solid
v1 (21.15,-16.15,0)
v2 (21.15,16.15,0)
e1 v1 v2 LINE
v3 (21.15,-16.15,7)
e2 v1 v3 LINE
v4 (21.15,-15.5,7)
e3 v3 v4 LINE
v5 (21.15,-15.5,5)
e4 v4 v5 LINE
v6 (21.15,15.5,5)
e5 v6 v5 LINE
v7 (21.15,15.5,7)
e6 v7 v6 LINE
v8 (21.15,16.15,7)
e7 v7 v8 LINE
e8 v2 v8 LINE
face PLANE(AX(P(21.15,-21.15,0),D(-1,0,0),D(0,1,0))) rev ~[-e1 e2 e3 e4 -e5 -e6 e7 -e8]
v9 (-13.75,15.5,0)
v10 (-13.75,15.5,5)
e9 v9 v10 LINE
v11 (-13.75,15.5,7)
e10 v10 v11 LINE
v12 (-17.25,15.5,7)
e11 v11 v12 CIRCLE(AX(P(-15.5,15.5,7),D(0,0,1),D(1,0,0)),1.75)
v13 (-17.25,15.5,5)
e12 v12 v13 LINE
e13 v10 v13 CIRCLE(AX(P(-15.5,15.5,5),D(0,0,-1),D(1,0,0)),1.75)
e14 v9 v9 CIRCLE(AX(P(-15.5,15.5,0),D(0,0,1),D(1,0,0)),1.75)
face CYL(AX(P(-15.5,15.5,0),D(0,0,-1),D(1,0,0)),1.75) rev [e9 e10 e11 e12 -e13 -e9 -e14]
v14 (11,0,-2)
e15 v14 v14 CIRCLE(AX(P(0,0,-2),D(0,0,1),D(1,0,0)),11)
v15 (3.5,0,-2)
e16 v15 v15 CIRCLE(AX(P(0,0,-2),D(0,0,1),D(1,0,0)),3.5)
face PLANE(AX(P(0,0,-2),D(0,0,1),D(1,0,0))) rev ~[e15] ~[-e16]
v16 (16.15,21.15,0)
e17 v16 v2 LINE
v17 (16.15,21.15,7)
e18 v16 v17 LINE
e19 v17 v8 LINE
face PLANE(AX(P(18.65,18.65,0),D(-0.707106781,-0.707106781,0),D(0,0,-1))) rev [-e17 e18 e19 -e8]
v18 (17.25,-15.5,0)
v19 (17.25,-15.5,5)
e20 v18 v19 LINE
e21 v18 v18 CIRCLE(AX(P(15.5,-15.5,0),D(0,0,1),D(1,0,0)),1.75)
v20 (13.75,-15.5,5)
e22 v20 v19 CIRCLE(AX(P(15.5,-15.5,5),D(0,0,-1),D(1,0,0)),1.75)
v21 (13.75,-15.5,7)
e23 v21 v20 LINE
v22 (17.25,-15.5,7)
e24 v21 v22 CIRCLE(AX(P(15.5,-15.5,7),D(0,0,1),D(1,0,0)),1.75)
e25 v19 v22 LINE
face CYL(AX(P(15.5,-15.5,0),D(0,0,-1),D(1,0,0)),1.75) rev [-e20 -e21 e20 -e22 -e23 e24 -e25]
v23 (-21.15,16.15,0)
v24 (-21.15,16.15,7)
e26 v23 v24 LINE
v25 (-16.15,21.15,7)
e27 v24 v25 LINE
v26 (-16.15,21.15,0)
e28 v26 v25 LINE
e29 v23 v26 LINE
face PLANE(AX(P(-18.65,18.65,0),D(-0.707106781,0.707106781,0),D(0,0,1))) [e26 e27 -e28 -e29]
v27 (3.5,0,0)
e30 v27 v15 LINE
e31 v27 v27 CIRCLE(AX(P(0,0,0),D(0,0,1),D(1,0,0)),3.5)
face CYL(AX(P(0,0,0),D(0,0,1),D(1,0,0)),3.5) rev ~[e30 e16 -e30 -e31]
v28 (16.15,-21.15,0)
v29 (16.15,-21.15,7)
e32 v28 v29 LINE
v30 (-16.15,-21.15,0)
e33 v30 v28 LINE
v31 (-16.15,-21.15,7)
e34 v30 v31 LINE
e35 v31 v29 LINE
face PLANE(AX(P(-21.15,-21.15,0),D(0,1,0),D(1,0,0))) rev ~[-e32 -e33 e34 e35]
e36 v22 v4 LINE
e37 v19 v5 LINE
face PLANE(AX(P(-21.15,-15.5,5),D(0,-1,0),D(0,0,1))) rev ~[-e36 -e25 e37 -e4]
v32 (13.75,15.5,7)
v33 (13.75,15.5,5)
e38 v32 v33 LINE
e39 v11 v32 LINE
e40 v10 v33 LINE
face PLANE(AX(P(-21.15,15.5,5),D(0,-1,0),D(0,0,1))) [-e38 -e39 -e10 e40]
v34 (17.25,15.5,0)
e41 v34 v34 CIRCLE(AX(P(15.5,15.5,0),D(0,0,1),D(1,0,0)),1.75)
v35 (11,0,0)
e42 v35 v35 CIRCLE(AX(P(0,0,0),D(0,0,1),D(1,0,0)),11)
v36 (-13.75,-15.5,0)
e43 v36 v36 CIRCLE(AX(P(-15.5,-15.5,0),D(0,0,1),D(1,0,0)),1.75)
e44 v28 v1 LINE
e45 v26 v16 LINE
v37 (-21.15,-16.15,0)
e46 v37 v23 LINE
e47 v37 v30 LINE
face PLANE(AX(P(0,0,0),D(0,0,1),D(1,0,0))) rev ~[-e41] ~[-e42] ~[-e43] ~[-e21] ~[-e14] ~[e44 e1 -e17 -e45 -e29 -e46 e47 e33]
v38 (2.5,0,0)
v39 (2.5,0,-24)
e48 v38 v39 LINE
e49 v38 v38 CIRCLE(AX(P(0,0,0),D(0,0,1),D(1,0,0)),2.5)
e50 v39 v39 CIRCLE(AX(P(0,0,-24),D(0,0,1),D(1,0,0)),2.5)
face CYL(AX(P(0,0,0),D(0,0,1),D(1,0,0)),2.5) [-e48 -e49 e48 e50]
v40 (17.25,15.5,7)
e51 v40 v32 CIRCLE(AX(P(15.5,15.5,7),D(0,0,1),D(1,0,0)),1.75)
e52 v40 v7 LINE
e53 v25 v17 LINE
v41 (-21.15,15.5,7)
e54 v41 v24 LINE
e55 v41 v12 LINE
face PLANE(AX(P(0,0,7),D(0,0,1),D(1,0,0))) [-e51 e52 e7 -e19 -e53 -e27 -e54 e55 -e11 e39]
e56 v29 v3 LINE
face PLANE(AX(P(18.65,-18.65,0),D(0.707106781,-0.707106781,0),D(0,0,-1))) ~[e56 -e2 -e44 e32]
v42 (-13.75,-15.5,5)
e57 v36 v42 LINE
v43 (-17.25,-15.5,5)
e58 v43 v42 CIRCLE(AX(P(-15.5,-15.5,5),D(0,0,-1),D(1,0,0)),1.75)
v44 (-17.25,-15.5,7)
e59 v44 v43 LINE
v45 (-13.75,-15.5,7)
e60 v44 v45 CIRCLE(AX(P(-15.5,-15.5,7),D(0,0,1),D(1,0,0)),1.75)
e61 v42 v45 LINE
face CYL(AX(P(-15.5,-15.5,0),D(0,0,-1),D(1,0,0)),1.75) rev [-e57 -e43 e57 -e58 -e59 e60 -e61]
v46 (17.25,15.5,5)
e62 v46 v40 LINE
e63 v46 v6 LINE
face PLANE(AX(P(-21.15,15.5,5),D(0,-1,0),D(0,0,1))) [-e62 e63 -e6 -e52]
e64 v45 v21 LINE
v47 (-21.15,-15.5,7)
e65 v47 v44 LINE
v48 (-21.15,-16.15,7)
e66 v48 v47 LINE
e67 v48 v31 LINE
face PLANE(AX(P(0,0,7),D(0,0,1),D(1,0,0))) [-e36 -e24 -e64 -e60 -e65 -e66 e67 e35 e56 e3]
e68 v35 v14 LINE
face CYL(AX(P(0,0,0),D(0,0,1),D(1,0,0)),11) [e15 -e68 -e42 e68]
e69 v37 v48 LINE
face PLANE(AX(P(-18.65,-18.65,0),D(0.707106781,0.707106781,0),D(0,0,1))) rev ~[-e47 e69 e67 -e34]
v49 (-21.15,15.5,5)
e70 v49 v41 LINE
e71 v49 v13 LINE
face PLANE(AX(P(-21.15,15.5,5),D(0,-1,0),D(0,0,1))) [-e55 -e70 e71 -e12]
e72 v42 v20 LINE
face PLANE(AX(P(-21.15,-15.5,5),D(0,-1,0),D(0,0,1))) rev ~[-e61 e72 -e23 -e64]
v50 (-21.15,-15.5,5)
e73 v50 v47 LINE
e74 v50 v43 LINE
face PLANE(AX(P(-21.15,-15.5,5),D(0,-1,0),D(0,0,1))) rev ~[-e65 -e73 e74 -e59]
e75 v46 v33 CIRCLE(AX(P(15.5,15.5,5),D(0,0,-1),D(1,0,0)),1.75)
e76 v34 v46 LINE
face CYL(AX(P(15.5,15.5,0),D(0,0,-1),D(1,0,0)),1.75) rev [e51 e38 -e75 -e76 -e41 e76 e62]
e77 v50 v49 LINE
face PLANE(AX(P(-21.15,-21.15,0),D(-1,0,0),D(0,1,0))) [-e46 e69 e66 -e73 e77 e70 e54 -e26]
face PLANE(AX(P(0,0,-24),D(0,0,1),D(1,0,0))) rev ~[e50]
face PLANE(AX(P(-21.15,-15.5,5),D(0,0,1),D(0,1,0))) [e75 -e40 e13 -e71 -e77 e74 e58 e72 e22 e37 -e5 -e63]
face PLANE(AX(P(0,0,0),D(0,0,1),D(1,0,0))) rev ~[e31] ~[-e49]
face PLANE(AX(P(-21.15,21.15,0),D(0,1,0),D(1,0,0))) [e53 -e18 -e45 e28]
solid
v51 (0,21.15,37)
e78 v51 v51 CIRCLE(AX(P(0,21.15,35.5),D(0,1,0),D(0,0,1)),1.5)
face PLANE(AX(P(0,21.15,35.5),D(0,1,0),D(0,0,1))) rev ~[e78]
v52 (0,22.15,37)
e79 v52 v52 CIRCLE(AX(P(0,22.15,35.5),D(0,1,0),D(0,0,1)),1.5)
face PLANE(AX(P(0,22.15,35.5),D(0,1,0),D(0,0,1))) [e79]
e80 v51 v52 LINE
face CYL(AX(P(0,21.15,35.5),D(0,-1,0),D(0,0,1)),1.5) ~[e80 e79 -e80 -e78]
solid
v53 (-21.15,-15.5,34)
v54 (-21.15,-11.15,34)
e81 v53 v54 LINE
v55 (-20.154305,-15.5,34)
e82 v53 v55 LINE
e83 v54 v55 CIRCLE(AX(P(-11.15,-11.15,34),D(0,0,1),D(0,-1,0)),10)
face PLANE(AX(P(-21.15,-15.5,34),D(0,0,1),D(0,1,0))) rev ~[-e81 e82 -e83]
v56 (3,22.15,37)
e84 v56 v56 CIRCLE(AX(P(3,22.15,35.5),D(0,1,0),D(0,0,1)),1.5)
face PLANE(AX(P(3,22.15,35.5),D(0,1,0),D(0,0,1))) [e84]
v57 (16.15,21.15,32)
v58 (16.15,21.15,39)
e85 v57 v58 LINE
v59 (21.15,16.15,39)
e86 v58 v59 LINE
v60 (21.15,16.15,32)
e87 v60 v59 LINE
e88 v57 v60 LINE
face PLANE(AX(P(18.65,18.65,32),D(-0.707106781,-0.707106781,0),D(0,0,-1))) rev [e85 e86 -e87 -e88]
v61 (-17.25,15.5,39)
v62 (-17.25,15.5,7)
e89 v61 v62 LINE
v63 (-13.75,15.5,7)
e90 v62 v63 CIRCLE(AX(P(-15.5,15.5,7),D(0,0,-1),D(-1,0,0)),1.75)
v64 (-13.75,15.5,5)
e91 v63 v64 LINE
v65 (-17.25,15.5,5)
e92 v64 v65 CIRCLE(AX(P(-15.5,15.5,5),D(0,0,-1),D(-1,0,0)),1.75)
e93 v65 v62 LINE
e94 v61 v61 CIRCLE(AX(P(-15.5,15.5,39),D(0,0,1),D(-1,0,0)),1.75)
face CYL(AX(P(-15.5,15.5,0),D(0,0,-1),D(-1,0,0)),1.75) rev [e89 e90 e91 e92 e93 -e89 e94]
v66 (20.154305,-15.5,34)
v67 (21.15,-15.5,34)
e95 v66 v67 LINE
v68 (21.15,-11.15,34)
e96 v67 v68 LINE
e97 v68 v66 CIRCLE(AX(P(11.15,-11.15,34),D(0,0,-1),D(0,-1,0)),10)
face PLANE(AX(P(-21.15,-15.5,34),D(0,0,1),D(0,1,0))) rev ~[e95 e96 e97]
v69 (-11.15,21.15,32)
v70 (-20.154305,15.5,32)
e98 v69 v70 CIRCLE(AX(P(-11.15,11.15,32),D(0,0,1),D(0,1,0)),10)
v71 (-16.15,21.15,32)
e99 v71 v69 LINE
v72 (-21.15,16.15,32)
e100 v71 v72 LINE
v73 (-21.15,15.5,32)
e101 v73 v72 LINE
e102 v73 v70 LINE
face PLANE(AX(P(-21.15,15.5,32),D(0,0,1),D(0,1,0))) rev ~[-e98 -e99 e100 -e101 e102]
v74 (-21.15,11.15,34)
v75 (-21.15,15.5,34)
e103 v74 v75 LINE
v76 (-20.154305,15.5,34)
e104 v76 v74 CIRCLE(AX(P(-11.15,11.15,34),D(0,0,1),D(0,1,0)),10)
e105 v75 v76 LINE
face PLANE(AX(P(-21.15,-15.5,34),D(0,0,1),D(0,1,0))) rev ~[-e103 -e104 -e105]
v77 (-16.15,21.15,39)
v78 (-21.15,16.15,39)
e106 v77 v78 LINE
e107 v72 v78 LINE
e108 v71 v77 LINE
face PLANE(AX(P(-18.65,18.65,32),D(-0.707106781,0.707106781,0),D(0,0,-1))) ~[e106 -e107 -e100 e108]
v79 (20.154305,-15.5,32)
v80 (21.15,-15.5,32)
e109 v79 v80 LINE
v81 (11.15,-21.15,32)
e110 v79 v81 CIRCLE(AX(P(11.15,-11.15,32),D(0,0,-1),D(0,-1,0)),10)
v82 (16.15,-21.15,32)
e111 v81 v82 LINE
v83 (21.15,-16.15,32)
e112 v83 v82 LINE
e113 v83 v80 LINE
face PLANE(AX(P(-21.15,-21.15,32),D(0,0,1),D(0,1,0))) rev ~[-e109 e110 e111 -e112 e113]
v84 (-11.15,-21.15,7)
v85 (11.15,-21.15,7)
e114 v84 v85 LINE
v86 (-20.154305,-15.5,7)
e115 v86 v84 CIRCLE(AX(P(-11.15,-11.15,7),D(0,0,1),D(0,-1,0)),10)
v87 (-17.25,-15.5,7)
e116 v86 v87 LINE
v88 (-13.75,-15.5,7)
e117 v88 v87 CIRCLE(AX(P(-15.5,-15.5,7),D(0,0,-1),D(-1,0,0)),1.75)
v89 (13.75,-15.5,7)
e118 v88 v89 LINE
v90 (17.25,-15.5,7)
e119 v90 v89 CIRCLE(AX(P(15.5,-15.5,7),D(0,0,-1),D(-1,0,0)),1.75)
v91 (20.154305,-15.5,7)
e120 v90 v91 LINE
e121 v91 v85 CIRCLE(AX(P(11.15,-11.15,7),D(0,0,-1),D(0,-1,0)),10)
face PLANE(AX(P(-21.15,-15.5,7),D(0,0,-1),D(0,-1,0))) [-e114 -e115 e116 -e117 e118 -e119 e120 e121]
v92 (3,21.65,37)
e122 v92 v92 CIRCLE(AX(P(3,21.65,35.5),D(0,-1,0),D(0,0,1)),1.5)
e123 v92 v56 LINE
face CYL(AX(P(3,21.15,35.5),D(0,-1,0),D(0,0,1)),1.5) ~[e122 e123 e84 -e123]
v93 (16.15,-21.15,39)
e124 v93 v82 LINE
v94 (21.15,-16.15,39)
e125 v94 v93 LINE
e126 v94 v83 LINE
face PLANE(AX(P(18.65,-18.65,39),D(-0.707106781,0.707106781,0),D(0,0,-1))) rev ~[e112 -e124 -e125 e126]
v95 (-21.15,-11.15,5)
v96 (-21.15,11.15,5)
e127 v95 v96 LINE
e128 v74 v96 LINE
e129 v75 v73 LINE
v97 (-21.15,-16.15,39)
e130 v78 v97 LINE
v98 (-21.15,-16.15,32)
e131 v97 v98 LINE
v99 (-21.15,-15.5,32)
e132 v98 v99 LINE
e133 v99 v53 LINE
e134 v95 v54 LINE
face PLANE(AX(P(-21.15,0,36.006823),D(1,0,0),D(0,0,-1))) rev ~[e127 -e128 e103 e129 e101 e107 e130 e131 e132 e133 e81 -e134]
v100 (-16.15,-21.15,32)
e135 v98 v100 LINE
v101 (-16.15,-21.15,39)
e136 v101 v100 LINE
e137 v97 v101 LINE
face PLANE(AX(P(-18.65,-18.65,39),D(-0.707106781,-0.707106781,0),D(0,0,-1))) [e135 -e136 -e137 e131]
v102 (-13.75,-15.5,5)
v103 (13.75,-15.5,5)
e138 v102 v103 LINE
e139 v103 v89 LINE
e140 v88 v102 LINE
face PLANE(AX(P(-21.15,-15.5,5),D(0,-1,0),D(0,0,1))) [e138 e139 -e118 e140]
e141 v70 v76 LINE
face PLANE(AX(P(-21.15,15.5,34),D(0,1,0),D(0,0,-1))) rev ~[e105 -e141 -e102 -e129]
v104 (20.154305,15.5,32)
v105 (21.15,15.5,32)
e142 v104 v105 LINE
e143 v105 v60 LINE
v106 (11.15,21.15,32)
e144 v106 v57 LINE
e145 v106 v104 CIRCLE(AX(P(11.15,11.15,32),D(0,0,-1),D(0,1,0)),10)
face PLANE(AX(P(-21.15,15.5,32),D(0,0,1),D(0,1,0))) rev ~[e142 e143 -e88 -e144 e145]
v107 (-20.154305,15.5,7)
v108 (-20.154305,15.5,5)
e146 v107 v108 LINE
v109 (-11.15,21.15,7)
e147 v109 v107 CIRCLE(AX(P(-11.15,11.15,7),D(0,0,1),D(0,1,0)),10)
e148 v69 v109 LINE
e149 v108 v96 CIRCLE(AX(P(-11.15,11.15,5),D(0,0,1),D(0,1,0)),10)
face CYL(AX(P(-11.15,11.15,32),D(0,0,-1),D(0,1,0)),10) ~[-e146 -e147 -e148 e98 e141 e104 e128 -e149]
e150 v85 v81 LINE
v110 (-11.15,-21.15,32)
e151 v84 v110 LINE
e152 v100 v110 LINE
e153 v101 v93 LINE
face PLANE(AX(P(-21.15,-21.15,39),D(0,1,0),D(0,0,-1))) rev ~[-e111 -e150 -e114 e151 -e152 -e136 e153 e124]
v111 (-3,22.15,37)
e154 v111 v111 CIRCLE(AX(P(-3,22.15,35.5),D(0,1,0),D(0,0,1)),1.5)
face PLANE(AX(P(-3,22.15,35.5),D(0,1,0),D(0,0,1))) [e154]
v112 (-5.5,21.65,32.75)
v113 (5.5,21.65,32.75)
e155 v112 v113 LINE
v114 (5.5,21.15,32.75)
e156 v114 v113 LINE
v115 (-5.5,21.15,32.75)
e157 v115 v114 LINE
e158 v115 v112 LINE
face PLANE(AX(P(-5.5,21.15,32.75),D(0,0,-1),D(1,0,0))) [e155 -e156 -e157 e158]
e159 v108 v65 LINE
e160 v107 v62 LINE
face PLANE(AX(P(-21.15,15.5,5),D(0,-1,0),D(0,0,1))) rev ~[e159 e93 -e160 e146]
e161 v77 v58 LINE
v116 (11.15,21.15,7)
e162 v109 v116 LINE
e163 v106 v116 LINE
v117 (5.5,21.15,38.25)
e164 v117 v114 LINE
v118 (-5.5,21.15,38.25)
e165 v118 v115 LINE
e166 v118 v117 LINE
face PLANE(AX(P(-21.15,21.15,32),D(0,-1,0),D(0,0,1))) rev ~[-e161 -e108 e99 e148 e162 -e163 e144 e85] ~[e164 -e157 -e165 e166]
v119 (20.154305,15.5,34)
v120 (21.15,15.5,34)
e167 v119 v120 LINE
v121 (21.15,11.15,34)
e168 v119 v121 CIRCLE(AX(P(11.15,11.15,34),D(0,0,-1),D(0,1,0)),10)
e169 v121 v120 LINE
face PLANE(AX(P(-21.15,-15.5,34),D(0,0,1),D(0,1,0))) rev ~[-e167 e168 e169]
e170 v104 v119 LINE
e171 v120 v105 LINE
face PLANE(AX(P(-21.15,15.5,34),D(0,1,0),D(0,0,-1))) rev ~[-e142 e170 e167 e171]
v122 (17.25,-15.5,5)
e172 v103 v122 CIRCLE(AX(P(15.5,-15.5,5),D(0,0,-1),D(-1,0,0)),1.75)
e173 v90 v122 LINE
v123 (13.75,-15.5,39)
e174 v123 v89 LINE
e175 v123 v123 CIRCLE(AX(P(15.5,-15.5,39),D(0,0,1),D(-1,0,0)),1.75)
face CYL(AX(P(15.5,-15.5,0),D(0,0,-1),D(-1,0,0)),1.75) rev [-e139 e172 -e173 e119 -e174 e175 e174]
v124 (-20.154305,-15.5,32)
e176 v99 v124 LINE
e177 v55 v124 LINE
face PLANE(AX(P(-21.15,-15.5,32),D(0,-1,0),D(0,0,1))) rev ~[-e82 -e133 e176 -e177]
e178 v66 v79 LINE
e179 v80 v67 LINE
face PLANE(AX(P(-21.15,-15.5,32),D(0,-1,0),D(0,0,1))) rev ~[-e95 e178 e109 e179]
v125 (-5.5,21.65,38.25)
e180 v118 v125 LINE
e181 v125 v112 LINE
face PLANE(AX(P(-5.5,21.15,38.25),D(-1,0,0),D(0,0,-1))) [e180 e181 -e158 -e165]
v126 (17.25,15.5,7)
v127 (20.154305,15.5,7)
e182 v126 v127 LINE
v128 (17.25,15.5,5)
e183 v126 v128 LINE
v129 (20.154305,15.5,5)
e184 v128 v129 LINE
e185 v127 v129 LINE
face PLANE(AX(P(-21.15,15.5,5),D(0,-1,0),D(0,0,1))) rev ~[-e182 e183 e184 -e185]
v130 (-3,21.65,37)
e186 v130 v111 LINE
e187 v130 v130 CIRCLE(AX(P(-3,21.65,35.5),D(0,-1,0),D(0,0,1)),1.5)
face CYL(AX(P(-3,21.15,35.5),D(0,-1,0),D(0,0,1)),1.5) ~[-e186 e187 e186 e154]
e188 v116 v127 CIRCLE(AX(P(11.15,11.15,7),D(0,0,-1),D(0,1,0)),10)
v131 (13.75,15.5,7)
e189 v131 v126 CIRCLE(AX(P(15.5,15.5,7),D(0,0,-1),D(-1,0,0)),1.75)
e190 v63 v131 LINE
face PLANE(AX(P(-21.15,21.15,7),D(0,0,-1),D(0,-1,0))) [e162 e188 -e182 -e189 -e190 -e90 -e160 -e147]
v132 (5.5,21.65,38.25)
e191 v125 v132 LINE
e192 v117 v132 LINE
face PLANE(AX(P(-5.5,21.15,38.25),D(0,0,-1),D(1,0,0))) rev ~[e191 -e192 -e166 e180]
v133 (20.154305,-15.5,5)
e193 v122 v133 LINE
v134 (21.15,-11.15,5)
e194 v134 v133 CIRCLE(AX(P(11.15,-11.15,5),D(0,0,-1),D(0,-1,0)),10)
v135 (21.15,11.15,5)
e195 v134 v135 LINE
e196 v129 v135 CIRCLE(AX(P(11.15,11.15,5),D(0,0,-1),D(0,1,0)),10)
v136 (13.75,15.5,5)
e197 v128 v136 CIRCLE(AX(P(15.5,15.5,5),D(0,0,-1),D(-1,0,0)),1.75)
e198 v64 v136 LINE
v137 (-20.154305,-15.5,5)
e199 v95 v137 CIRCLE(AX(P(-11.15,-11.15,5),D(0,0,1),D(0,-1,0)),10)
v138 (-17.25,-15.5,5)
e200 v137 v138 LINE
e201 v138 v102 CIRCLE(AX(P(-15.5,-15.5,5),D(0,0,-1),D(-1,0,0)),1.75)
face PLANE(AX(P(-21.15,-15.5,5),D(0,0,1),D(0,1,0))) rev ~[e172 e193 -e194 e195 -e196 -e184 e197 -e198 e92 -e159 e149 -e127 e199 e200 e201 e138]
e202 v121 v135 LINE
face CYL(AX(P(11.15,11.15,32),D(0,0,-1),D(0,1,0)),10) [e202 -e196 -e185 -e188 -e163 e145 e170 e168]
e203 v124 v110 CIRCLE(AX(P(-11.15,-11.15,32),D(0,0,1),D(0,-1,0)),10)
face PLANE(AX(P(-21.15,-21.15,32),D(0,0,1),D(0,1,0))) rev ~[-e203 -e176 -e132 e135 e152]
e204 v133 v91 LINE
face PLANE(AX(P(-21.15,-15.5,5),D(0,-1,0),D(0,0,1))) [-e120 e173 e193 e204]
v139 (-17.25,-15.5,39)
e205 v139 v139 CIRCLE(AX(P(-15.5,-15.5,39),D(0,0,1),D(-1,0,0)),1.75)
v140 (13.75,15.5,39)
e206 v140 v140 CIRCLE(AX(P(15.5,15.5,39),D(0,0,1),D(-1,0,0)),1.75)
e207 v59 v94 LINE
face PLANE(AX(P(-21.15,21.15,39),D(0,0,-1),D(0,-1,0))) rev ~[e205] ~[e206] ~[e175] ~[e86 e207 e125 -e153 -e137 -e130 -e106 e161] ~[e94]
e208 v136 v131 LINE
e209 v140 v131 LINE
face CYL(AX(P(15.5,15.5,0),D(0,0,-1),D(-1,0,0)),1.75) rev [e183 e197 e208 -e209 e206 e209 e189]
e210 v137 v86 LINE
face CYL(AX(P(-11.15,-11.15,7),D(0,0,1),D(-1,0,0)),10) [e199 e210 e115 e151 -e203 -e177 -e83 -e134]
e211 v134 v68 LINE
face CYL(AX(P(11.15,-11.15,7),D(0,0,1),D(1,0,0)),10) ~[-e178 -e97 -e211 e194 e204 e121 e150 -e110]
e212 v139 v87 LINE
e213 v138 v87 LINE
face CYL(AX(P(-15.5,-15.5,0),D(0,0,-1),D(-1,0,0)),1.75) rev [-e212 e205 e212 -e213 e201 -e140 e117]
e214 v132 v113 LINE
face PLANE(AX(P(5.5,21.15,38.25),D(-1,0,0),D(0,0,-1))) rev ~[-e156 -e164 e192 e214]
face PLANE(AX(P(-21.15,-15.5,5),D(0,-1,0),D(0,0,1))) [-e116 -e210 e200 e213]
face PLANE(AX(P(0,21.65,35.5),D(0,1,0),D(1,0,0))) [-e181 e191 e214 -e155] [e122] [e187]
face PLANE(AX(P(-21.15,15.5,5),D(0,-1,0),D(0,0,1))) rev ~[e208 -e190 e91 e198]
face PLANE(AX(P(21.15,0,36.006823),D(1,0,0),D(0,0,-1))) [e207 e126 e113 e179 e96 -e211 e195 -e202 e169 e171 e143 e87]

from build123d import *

# Parameters (mm, degrees)
ESQUISSE1_W             = 42.3
ESQUISSE1_H             = 42.3
ESQUISSE1_R             = 11
ESQUISSE1_R_2           = 1.75
ESQUISSE1_R_3           = 3.5
ESQUISSE1_R_4           = 2.5
BOSS_EXTRU_1_DEPTH      = 7
ESQUISSE1_3_R           = 11
ESQUISSE1_3_R_2         = 3.5
ESQUISSE1_3_R_3         = 2.5
BOSS_EXTRU_2_DEPTH      = 2
ESQUISSE1_5_R           = 2.5
BOSS_EXTRU_3_DEPTH      = 24
ENL_V_MAT_EXTRU_1_REACH = 55.034
ESQUISSE2_W             = 2
ESQUISSE2_H             = 31
ESQUISSE3_W             = 2
ESQUISSE3_H             = 31
BOSS_EXTRU_4_DEPTH      = 42.3
BOSS_EXTRU_5_DEPTH      = 42.3
ESQUISSE1_6_R           = 1.75
ENL_V_MAT_EXTRU_2_DEPTH = 39
CHANFREIN1_SIZE         = 5
CHANFREIN2_SIZE         = 5
CONG_1_R                = 10
ESQUISSE5_W             = 11
ESQUISSE5_H             = 5.5
BOSS_EXTRU_6_DEPTH      = 0.5
ESQUISSE5_3_R           = 1.5
BOSS_EXTRU_7_DEPTH      = 1
ESQUISSE5_5_R           = 1.5
BOSS_EXTRU_8_DEPTH      = 1
ESQUISSE5_6_R           = 1.5
BOSS_EXTRU_9_DEPTH      = 1


with BuildPart() as part:
    # Esquisse1 → Boss.-Extru.1 (new body)
    with BuildSketch(Plane.XY):
        Rectangle(ESQUISSE1_W, ESQUISSE1_H)
        Circle(ESQUISSE1_R, mode=Mode.SUBTRACT)
        with Locations((-15.5, -15.5)):
            Circle(ESQUISSE1_R_2, mode=Mode.SUBTRACT)
        with Locations((15.5, -15.5)):
            Circle(ESQUISSE1_R_2, mode=Mode.SUBTRACT)
        with Locations((15.5, 15.5)):
            Circle(ESQUISSE1_R_2, mode=Mode.SUBTRACT)
        with Locations((-15.5, 15.5)):
            Circle(ESQUISSE1_R_2, mode=Mode.SUBTRACT)
        Circle(ESQUISSE1_R)
        Circle(ESQUISSE1_R_3, mode=Mode.SUBTRACT)
        Circle(ESQUISSE1_R_3)
        Circle(ESQUISSE1_R_4, mode=Mode.SUBTRACT)
        Circle(ESQUISSE1_R_4)
    extrude(amount=BOSS_EXTRU_1_DEPTH)

    # Esquisse1_3 → Boss.-Extru.2 (add)
    with BuildSketch(Plane.XY):
        Circle(ESQUISSE1_3_R)
        Circle(ESQUISSE1_3_R_2, mode=Mode.SUBTRACT)
        Circle(ESQUISSE1_3_R_3)
    extrude(amount=-BOSS_EXTRU_2_DEPTH)

    # Esquisse1_5 → Boss.-Extru.3 (add)
    with BuildSketch(Plane.XY):
        Circle(ESQUISSE1_5_R)
    extrude(amount=-BOSS_EXTRU_3_DEPTH)

    # Esquisse2 → Enl_v. mat.-Extru.1 (cut, up to next)
    with BuildSketch(Plane.ZY.offset(21.15), mode=Mode.PRIVATE) as enl_v_mat_extru_1_sk1:
        with Locations((6, 0)):
            Rectangle(ESQUISSE2_W, ESQUISSE2_H)
    enl_v_mat_extru_1_tool1 = extrude(enl_v_mat_extru_1_sk1.sketch, amount=-ENL_V_MAT_EXTRU_1_REACH, mode=Mode.PRIVATE) & part.part
    add(enl_v_mat_extru_1_tool1.solids().sort_by_distance((-21.15, 0, 6))[0], mode=Mode.SUBTRACT)

    # Chanfrein1
    chanfrein1_edges = [part.edges().sort_by_distance(p)[0] for p in [
        (-21.15, 21.15, 3.5),
        (21.15, 21.15, 3.5),
        (21.15, -21.15, 3.5),
        (-21.15, -21.15, 3.5),
    ]]
    chamfer(chanfrein1_edges, length=CHANFREIN1_SIZE)


with BuildPart() as body_2:
    # Esquisse3 → Boss.-Extru.4 (new body)
    with BuildSketch(Plane.ZY.offset(21.15)):
        Polygon((32, 15.5), (32, 21.15), (7, 21.15), (7, 15.5), (7, -15.5), (7, -21.15), (32, -21.15), (32, -15.5), align=None)
        with Locations((33, 0)):
            Rectangle(ESQUISSE3_W, ESQUISSE3_H)
        with Locations((6, 0)):
            Rectangle(ESQUISSE3_W, ESQUISSE3_H)
    extrude(amount=-BOSS_EXTRU_4_DEPTH)


with BuildPart() as body_3:
    # Esquisse4 → Boss.-Extru.5 (new body)
    with BuildSketch(Plane.ZY.offset(21.15)):
        Polygon((32, 21.15), (39, 21.15), (39, -21.15), (32, -21.15), (32, -15.5), (34, -15.5), (34, 15.5), (32, 15.5), align=None)
    extrude(amount=-BOSS_EXTRU_5_DEPTH)


with BuildPart() as enl_v_mat_extru_2_tool:
    # Esquisse1_6 → Enl_v. mat.-Extru.2 (new body)
    with BuildSketch(Plane.XY):
        with Locations(Location((15.5, 15.5, 0), (0, 0, 180))):
            Circle(ESQUISSE1_6_R)
        with Locations(Location((-15.5, -15.5, 0), (0, 0, 180))):
            Circle(ESQUISSE1_6_R)
        with Locations(Location((15.5, -15.5, 0), (0, 0, 180))):
            Circle(ESQUISSE1_6_R)
        with Locations(Location((-15.5, 15.5, 0), (0, 0, 180))):
            Circle(ESQUISSE1_6_R)
    extrude(amount=ENL_V_MAT_EXTRU_2_DEPTH)


with BuildPart() as body_2_1:
    add(body_2.part)

    # Enl_v. mat.-Extru.2: cut by enl_v_mat_extru_2_tool
    add(enl_v_mat_extru_2_tool.part, mode=Mode.SUBTRACT)

    # Cong_1
    cong_1_edges = [body_2_1.edges().sort_by_distance(p)[0] for p in [
        (21.15, 21.15, 19.5),
        (-21.15, 21.15, 19.5),
        (21.15, -21.15, 19.5),
        (-21.15, -21.15, 19.5),
    ]]
    fillet(cong_1_edges, radius=CONG_1_R)



with BuildPart() as body_3_1:
    add(body_3.part)

    # Enl_v. mat.-Extru.2: cut by enl_v_mat_extru_2_tool
    add(enl_v_mat_extru_2_tool.part, mode=Mode.SUBTRACT)

    # Chanfrein2
    chanfrein2_edges = [body_3_1.edges().sort_by_distance(p)[0] for p in [
        (21.15, -21.15, 35.5),
        (21.15, 21.15, 35.5),
        (-21.15, 21.15, 35.5),
        (-21.15, -21.15, 35.5),
    ]]
    chamfer(chanfrein2_edges, length=CHANFREIN2_SIZE)


with BuildPart() as body_2_2:
    add(body_2_1.part)

    add(body_3_1.part)  # Boss.-Extru.6 merges body 3
    # Esquisse5 → Boss.-Extru.6 (add)
    with BuildSketch(Plane(origin=(0, 21.15, 0), x_dir=(1, 0, 0), z_dir=(0, 1, 0))):
        with Locations((0, -35.5)):
            Rectangle(ESQUISSE5_W, ESQUISSE5_H)
    extrude(amount=BOSS_EXTRU_6_DEPTH)

    # Esquisse5_3 → Boss.-Extru.7 (add)
    with BuildSketch(Plane(origin=(0, 21.15, 0), x_dir=(1, 0, 0), z_dir=(0, 1, 0))):
        with Locations(Location((-3, -35.5, 0), (0, 0, 270))):
            Circle(ESQUISSE5_3_R)
    extrude(amount=BOSS_EXTRU_7_DEPTH)

    # Esquisse5_5 → Boss.-Extru.8 (add)
    with BuildSketch(Plane(origin=(0, 21.15, 0), x_dir=(1, 0, 0), z_dir=(0, 1, 0))):
        with Locations(Location((3, -35.5, 0), (0, 0, 270))):
            Circle(ESQUISSE5_5_R)
    extrude(amount=BOSS_EXTRU_8_DEPTH)


with BuildPart() as body_3_2:
    # Esquisse5_6 → Boss.-Extru.9 (new body)
    with BuildSketch(Plane(origin=(0, 21.15, 0), x_dir=(1, 0, 0), z_dir=(0, 1, 0))):
        with Locations(Location((0, -35.5, 0), (0, 0, 270))):
            Circle(ESQUISSE5_6_R)
    extrude(amount=BOSS_EXTRU_9_DEPTH)


solid = Compound([part.part, body_2_2.part, body_3_2.part])
